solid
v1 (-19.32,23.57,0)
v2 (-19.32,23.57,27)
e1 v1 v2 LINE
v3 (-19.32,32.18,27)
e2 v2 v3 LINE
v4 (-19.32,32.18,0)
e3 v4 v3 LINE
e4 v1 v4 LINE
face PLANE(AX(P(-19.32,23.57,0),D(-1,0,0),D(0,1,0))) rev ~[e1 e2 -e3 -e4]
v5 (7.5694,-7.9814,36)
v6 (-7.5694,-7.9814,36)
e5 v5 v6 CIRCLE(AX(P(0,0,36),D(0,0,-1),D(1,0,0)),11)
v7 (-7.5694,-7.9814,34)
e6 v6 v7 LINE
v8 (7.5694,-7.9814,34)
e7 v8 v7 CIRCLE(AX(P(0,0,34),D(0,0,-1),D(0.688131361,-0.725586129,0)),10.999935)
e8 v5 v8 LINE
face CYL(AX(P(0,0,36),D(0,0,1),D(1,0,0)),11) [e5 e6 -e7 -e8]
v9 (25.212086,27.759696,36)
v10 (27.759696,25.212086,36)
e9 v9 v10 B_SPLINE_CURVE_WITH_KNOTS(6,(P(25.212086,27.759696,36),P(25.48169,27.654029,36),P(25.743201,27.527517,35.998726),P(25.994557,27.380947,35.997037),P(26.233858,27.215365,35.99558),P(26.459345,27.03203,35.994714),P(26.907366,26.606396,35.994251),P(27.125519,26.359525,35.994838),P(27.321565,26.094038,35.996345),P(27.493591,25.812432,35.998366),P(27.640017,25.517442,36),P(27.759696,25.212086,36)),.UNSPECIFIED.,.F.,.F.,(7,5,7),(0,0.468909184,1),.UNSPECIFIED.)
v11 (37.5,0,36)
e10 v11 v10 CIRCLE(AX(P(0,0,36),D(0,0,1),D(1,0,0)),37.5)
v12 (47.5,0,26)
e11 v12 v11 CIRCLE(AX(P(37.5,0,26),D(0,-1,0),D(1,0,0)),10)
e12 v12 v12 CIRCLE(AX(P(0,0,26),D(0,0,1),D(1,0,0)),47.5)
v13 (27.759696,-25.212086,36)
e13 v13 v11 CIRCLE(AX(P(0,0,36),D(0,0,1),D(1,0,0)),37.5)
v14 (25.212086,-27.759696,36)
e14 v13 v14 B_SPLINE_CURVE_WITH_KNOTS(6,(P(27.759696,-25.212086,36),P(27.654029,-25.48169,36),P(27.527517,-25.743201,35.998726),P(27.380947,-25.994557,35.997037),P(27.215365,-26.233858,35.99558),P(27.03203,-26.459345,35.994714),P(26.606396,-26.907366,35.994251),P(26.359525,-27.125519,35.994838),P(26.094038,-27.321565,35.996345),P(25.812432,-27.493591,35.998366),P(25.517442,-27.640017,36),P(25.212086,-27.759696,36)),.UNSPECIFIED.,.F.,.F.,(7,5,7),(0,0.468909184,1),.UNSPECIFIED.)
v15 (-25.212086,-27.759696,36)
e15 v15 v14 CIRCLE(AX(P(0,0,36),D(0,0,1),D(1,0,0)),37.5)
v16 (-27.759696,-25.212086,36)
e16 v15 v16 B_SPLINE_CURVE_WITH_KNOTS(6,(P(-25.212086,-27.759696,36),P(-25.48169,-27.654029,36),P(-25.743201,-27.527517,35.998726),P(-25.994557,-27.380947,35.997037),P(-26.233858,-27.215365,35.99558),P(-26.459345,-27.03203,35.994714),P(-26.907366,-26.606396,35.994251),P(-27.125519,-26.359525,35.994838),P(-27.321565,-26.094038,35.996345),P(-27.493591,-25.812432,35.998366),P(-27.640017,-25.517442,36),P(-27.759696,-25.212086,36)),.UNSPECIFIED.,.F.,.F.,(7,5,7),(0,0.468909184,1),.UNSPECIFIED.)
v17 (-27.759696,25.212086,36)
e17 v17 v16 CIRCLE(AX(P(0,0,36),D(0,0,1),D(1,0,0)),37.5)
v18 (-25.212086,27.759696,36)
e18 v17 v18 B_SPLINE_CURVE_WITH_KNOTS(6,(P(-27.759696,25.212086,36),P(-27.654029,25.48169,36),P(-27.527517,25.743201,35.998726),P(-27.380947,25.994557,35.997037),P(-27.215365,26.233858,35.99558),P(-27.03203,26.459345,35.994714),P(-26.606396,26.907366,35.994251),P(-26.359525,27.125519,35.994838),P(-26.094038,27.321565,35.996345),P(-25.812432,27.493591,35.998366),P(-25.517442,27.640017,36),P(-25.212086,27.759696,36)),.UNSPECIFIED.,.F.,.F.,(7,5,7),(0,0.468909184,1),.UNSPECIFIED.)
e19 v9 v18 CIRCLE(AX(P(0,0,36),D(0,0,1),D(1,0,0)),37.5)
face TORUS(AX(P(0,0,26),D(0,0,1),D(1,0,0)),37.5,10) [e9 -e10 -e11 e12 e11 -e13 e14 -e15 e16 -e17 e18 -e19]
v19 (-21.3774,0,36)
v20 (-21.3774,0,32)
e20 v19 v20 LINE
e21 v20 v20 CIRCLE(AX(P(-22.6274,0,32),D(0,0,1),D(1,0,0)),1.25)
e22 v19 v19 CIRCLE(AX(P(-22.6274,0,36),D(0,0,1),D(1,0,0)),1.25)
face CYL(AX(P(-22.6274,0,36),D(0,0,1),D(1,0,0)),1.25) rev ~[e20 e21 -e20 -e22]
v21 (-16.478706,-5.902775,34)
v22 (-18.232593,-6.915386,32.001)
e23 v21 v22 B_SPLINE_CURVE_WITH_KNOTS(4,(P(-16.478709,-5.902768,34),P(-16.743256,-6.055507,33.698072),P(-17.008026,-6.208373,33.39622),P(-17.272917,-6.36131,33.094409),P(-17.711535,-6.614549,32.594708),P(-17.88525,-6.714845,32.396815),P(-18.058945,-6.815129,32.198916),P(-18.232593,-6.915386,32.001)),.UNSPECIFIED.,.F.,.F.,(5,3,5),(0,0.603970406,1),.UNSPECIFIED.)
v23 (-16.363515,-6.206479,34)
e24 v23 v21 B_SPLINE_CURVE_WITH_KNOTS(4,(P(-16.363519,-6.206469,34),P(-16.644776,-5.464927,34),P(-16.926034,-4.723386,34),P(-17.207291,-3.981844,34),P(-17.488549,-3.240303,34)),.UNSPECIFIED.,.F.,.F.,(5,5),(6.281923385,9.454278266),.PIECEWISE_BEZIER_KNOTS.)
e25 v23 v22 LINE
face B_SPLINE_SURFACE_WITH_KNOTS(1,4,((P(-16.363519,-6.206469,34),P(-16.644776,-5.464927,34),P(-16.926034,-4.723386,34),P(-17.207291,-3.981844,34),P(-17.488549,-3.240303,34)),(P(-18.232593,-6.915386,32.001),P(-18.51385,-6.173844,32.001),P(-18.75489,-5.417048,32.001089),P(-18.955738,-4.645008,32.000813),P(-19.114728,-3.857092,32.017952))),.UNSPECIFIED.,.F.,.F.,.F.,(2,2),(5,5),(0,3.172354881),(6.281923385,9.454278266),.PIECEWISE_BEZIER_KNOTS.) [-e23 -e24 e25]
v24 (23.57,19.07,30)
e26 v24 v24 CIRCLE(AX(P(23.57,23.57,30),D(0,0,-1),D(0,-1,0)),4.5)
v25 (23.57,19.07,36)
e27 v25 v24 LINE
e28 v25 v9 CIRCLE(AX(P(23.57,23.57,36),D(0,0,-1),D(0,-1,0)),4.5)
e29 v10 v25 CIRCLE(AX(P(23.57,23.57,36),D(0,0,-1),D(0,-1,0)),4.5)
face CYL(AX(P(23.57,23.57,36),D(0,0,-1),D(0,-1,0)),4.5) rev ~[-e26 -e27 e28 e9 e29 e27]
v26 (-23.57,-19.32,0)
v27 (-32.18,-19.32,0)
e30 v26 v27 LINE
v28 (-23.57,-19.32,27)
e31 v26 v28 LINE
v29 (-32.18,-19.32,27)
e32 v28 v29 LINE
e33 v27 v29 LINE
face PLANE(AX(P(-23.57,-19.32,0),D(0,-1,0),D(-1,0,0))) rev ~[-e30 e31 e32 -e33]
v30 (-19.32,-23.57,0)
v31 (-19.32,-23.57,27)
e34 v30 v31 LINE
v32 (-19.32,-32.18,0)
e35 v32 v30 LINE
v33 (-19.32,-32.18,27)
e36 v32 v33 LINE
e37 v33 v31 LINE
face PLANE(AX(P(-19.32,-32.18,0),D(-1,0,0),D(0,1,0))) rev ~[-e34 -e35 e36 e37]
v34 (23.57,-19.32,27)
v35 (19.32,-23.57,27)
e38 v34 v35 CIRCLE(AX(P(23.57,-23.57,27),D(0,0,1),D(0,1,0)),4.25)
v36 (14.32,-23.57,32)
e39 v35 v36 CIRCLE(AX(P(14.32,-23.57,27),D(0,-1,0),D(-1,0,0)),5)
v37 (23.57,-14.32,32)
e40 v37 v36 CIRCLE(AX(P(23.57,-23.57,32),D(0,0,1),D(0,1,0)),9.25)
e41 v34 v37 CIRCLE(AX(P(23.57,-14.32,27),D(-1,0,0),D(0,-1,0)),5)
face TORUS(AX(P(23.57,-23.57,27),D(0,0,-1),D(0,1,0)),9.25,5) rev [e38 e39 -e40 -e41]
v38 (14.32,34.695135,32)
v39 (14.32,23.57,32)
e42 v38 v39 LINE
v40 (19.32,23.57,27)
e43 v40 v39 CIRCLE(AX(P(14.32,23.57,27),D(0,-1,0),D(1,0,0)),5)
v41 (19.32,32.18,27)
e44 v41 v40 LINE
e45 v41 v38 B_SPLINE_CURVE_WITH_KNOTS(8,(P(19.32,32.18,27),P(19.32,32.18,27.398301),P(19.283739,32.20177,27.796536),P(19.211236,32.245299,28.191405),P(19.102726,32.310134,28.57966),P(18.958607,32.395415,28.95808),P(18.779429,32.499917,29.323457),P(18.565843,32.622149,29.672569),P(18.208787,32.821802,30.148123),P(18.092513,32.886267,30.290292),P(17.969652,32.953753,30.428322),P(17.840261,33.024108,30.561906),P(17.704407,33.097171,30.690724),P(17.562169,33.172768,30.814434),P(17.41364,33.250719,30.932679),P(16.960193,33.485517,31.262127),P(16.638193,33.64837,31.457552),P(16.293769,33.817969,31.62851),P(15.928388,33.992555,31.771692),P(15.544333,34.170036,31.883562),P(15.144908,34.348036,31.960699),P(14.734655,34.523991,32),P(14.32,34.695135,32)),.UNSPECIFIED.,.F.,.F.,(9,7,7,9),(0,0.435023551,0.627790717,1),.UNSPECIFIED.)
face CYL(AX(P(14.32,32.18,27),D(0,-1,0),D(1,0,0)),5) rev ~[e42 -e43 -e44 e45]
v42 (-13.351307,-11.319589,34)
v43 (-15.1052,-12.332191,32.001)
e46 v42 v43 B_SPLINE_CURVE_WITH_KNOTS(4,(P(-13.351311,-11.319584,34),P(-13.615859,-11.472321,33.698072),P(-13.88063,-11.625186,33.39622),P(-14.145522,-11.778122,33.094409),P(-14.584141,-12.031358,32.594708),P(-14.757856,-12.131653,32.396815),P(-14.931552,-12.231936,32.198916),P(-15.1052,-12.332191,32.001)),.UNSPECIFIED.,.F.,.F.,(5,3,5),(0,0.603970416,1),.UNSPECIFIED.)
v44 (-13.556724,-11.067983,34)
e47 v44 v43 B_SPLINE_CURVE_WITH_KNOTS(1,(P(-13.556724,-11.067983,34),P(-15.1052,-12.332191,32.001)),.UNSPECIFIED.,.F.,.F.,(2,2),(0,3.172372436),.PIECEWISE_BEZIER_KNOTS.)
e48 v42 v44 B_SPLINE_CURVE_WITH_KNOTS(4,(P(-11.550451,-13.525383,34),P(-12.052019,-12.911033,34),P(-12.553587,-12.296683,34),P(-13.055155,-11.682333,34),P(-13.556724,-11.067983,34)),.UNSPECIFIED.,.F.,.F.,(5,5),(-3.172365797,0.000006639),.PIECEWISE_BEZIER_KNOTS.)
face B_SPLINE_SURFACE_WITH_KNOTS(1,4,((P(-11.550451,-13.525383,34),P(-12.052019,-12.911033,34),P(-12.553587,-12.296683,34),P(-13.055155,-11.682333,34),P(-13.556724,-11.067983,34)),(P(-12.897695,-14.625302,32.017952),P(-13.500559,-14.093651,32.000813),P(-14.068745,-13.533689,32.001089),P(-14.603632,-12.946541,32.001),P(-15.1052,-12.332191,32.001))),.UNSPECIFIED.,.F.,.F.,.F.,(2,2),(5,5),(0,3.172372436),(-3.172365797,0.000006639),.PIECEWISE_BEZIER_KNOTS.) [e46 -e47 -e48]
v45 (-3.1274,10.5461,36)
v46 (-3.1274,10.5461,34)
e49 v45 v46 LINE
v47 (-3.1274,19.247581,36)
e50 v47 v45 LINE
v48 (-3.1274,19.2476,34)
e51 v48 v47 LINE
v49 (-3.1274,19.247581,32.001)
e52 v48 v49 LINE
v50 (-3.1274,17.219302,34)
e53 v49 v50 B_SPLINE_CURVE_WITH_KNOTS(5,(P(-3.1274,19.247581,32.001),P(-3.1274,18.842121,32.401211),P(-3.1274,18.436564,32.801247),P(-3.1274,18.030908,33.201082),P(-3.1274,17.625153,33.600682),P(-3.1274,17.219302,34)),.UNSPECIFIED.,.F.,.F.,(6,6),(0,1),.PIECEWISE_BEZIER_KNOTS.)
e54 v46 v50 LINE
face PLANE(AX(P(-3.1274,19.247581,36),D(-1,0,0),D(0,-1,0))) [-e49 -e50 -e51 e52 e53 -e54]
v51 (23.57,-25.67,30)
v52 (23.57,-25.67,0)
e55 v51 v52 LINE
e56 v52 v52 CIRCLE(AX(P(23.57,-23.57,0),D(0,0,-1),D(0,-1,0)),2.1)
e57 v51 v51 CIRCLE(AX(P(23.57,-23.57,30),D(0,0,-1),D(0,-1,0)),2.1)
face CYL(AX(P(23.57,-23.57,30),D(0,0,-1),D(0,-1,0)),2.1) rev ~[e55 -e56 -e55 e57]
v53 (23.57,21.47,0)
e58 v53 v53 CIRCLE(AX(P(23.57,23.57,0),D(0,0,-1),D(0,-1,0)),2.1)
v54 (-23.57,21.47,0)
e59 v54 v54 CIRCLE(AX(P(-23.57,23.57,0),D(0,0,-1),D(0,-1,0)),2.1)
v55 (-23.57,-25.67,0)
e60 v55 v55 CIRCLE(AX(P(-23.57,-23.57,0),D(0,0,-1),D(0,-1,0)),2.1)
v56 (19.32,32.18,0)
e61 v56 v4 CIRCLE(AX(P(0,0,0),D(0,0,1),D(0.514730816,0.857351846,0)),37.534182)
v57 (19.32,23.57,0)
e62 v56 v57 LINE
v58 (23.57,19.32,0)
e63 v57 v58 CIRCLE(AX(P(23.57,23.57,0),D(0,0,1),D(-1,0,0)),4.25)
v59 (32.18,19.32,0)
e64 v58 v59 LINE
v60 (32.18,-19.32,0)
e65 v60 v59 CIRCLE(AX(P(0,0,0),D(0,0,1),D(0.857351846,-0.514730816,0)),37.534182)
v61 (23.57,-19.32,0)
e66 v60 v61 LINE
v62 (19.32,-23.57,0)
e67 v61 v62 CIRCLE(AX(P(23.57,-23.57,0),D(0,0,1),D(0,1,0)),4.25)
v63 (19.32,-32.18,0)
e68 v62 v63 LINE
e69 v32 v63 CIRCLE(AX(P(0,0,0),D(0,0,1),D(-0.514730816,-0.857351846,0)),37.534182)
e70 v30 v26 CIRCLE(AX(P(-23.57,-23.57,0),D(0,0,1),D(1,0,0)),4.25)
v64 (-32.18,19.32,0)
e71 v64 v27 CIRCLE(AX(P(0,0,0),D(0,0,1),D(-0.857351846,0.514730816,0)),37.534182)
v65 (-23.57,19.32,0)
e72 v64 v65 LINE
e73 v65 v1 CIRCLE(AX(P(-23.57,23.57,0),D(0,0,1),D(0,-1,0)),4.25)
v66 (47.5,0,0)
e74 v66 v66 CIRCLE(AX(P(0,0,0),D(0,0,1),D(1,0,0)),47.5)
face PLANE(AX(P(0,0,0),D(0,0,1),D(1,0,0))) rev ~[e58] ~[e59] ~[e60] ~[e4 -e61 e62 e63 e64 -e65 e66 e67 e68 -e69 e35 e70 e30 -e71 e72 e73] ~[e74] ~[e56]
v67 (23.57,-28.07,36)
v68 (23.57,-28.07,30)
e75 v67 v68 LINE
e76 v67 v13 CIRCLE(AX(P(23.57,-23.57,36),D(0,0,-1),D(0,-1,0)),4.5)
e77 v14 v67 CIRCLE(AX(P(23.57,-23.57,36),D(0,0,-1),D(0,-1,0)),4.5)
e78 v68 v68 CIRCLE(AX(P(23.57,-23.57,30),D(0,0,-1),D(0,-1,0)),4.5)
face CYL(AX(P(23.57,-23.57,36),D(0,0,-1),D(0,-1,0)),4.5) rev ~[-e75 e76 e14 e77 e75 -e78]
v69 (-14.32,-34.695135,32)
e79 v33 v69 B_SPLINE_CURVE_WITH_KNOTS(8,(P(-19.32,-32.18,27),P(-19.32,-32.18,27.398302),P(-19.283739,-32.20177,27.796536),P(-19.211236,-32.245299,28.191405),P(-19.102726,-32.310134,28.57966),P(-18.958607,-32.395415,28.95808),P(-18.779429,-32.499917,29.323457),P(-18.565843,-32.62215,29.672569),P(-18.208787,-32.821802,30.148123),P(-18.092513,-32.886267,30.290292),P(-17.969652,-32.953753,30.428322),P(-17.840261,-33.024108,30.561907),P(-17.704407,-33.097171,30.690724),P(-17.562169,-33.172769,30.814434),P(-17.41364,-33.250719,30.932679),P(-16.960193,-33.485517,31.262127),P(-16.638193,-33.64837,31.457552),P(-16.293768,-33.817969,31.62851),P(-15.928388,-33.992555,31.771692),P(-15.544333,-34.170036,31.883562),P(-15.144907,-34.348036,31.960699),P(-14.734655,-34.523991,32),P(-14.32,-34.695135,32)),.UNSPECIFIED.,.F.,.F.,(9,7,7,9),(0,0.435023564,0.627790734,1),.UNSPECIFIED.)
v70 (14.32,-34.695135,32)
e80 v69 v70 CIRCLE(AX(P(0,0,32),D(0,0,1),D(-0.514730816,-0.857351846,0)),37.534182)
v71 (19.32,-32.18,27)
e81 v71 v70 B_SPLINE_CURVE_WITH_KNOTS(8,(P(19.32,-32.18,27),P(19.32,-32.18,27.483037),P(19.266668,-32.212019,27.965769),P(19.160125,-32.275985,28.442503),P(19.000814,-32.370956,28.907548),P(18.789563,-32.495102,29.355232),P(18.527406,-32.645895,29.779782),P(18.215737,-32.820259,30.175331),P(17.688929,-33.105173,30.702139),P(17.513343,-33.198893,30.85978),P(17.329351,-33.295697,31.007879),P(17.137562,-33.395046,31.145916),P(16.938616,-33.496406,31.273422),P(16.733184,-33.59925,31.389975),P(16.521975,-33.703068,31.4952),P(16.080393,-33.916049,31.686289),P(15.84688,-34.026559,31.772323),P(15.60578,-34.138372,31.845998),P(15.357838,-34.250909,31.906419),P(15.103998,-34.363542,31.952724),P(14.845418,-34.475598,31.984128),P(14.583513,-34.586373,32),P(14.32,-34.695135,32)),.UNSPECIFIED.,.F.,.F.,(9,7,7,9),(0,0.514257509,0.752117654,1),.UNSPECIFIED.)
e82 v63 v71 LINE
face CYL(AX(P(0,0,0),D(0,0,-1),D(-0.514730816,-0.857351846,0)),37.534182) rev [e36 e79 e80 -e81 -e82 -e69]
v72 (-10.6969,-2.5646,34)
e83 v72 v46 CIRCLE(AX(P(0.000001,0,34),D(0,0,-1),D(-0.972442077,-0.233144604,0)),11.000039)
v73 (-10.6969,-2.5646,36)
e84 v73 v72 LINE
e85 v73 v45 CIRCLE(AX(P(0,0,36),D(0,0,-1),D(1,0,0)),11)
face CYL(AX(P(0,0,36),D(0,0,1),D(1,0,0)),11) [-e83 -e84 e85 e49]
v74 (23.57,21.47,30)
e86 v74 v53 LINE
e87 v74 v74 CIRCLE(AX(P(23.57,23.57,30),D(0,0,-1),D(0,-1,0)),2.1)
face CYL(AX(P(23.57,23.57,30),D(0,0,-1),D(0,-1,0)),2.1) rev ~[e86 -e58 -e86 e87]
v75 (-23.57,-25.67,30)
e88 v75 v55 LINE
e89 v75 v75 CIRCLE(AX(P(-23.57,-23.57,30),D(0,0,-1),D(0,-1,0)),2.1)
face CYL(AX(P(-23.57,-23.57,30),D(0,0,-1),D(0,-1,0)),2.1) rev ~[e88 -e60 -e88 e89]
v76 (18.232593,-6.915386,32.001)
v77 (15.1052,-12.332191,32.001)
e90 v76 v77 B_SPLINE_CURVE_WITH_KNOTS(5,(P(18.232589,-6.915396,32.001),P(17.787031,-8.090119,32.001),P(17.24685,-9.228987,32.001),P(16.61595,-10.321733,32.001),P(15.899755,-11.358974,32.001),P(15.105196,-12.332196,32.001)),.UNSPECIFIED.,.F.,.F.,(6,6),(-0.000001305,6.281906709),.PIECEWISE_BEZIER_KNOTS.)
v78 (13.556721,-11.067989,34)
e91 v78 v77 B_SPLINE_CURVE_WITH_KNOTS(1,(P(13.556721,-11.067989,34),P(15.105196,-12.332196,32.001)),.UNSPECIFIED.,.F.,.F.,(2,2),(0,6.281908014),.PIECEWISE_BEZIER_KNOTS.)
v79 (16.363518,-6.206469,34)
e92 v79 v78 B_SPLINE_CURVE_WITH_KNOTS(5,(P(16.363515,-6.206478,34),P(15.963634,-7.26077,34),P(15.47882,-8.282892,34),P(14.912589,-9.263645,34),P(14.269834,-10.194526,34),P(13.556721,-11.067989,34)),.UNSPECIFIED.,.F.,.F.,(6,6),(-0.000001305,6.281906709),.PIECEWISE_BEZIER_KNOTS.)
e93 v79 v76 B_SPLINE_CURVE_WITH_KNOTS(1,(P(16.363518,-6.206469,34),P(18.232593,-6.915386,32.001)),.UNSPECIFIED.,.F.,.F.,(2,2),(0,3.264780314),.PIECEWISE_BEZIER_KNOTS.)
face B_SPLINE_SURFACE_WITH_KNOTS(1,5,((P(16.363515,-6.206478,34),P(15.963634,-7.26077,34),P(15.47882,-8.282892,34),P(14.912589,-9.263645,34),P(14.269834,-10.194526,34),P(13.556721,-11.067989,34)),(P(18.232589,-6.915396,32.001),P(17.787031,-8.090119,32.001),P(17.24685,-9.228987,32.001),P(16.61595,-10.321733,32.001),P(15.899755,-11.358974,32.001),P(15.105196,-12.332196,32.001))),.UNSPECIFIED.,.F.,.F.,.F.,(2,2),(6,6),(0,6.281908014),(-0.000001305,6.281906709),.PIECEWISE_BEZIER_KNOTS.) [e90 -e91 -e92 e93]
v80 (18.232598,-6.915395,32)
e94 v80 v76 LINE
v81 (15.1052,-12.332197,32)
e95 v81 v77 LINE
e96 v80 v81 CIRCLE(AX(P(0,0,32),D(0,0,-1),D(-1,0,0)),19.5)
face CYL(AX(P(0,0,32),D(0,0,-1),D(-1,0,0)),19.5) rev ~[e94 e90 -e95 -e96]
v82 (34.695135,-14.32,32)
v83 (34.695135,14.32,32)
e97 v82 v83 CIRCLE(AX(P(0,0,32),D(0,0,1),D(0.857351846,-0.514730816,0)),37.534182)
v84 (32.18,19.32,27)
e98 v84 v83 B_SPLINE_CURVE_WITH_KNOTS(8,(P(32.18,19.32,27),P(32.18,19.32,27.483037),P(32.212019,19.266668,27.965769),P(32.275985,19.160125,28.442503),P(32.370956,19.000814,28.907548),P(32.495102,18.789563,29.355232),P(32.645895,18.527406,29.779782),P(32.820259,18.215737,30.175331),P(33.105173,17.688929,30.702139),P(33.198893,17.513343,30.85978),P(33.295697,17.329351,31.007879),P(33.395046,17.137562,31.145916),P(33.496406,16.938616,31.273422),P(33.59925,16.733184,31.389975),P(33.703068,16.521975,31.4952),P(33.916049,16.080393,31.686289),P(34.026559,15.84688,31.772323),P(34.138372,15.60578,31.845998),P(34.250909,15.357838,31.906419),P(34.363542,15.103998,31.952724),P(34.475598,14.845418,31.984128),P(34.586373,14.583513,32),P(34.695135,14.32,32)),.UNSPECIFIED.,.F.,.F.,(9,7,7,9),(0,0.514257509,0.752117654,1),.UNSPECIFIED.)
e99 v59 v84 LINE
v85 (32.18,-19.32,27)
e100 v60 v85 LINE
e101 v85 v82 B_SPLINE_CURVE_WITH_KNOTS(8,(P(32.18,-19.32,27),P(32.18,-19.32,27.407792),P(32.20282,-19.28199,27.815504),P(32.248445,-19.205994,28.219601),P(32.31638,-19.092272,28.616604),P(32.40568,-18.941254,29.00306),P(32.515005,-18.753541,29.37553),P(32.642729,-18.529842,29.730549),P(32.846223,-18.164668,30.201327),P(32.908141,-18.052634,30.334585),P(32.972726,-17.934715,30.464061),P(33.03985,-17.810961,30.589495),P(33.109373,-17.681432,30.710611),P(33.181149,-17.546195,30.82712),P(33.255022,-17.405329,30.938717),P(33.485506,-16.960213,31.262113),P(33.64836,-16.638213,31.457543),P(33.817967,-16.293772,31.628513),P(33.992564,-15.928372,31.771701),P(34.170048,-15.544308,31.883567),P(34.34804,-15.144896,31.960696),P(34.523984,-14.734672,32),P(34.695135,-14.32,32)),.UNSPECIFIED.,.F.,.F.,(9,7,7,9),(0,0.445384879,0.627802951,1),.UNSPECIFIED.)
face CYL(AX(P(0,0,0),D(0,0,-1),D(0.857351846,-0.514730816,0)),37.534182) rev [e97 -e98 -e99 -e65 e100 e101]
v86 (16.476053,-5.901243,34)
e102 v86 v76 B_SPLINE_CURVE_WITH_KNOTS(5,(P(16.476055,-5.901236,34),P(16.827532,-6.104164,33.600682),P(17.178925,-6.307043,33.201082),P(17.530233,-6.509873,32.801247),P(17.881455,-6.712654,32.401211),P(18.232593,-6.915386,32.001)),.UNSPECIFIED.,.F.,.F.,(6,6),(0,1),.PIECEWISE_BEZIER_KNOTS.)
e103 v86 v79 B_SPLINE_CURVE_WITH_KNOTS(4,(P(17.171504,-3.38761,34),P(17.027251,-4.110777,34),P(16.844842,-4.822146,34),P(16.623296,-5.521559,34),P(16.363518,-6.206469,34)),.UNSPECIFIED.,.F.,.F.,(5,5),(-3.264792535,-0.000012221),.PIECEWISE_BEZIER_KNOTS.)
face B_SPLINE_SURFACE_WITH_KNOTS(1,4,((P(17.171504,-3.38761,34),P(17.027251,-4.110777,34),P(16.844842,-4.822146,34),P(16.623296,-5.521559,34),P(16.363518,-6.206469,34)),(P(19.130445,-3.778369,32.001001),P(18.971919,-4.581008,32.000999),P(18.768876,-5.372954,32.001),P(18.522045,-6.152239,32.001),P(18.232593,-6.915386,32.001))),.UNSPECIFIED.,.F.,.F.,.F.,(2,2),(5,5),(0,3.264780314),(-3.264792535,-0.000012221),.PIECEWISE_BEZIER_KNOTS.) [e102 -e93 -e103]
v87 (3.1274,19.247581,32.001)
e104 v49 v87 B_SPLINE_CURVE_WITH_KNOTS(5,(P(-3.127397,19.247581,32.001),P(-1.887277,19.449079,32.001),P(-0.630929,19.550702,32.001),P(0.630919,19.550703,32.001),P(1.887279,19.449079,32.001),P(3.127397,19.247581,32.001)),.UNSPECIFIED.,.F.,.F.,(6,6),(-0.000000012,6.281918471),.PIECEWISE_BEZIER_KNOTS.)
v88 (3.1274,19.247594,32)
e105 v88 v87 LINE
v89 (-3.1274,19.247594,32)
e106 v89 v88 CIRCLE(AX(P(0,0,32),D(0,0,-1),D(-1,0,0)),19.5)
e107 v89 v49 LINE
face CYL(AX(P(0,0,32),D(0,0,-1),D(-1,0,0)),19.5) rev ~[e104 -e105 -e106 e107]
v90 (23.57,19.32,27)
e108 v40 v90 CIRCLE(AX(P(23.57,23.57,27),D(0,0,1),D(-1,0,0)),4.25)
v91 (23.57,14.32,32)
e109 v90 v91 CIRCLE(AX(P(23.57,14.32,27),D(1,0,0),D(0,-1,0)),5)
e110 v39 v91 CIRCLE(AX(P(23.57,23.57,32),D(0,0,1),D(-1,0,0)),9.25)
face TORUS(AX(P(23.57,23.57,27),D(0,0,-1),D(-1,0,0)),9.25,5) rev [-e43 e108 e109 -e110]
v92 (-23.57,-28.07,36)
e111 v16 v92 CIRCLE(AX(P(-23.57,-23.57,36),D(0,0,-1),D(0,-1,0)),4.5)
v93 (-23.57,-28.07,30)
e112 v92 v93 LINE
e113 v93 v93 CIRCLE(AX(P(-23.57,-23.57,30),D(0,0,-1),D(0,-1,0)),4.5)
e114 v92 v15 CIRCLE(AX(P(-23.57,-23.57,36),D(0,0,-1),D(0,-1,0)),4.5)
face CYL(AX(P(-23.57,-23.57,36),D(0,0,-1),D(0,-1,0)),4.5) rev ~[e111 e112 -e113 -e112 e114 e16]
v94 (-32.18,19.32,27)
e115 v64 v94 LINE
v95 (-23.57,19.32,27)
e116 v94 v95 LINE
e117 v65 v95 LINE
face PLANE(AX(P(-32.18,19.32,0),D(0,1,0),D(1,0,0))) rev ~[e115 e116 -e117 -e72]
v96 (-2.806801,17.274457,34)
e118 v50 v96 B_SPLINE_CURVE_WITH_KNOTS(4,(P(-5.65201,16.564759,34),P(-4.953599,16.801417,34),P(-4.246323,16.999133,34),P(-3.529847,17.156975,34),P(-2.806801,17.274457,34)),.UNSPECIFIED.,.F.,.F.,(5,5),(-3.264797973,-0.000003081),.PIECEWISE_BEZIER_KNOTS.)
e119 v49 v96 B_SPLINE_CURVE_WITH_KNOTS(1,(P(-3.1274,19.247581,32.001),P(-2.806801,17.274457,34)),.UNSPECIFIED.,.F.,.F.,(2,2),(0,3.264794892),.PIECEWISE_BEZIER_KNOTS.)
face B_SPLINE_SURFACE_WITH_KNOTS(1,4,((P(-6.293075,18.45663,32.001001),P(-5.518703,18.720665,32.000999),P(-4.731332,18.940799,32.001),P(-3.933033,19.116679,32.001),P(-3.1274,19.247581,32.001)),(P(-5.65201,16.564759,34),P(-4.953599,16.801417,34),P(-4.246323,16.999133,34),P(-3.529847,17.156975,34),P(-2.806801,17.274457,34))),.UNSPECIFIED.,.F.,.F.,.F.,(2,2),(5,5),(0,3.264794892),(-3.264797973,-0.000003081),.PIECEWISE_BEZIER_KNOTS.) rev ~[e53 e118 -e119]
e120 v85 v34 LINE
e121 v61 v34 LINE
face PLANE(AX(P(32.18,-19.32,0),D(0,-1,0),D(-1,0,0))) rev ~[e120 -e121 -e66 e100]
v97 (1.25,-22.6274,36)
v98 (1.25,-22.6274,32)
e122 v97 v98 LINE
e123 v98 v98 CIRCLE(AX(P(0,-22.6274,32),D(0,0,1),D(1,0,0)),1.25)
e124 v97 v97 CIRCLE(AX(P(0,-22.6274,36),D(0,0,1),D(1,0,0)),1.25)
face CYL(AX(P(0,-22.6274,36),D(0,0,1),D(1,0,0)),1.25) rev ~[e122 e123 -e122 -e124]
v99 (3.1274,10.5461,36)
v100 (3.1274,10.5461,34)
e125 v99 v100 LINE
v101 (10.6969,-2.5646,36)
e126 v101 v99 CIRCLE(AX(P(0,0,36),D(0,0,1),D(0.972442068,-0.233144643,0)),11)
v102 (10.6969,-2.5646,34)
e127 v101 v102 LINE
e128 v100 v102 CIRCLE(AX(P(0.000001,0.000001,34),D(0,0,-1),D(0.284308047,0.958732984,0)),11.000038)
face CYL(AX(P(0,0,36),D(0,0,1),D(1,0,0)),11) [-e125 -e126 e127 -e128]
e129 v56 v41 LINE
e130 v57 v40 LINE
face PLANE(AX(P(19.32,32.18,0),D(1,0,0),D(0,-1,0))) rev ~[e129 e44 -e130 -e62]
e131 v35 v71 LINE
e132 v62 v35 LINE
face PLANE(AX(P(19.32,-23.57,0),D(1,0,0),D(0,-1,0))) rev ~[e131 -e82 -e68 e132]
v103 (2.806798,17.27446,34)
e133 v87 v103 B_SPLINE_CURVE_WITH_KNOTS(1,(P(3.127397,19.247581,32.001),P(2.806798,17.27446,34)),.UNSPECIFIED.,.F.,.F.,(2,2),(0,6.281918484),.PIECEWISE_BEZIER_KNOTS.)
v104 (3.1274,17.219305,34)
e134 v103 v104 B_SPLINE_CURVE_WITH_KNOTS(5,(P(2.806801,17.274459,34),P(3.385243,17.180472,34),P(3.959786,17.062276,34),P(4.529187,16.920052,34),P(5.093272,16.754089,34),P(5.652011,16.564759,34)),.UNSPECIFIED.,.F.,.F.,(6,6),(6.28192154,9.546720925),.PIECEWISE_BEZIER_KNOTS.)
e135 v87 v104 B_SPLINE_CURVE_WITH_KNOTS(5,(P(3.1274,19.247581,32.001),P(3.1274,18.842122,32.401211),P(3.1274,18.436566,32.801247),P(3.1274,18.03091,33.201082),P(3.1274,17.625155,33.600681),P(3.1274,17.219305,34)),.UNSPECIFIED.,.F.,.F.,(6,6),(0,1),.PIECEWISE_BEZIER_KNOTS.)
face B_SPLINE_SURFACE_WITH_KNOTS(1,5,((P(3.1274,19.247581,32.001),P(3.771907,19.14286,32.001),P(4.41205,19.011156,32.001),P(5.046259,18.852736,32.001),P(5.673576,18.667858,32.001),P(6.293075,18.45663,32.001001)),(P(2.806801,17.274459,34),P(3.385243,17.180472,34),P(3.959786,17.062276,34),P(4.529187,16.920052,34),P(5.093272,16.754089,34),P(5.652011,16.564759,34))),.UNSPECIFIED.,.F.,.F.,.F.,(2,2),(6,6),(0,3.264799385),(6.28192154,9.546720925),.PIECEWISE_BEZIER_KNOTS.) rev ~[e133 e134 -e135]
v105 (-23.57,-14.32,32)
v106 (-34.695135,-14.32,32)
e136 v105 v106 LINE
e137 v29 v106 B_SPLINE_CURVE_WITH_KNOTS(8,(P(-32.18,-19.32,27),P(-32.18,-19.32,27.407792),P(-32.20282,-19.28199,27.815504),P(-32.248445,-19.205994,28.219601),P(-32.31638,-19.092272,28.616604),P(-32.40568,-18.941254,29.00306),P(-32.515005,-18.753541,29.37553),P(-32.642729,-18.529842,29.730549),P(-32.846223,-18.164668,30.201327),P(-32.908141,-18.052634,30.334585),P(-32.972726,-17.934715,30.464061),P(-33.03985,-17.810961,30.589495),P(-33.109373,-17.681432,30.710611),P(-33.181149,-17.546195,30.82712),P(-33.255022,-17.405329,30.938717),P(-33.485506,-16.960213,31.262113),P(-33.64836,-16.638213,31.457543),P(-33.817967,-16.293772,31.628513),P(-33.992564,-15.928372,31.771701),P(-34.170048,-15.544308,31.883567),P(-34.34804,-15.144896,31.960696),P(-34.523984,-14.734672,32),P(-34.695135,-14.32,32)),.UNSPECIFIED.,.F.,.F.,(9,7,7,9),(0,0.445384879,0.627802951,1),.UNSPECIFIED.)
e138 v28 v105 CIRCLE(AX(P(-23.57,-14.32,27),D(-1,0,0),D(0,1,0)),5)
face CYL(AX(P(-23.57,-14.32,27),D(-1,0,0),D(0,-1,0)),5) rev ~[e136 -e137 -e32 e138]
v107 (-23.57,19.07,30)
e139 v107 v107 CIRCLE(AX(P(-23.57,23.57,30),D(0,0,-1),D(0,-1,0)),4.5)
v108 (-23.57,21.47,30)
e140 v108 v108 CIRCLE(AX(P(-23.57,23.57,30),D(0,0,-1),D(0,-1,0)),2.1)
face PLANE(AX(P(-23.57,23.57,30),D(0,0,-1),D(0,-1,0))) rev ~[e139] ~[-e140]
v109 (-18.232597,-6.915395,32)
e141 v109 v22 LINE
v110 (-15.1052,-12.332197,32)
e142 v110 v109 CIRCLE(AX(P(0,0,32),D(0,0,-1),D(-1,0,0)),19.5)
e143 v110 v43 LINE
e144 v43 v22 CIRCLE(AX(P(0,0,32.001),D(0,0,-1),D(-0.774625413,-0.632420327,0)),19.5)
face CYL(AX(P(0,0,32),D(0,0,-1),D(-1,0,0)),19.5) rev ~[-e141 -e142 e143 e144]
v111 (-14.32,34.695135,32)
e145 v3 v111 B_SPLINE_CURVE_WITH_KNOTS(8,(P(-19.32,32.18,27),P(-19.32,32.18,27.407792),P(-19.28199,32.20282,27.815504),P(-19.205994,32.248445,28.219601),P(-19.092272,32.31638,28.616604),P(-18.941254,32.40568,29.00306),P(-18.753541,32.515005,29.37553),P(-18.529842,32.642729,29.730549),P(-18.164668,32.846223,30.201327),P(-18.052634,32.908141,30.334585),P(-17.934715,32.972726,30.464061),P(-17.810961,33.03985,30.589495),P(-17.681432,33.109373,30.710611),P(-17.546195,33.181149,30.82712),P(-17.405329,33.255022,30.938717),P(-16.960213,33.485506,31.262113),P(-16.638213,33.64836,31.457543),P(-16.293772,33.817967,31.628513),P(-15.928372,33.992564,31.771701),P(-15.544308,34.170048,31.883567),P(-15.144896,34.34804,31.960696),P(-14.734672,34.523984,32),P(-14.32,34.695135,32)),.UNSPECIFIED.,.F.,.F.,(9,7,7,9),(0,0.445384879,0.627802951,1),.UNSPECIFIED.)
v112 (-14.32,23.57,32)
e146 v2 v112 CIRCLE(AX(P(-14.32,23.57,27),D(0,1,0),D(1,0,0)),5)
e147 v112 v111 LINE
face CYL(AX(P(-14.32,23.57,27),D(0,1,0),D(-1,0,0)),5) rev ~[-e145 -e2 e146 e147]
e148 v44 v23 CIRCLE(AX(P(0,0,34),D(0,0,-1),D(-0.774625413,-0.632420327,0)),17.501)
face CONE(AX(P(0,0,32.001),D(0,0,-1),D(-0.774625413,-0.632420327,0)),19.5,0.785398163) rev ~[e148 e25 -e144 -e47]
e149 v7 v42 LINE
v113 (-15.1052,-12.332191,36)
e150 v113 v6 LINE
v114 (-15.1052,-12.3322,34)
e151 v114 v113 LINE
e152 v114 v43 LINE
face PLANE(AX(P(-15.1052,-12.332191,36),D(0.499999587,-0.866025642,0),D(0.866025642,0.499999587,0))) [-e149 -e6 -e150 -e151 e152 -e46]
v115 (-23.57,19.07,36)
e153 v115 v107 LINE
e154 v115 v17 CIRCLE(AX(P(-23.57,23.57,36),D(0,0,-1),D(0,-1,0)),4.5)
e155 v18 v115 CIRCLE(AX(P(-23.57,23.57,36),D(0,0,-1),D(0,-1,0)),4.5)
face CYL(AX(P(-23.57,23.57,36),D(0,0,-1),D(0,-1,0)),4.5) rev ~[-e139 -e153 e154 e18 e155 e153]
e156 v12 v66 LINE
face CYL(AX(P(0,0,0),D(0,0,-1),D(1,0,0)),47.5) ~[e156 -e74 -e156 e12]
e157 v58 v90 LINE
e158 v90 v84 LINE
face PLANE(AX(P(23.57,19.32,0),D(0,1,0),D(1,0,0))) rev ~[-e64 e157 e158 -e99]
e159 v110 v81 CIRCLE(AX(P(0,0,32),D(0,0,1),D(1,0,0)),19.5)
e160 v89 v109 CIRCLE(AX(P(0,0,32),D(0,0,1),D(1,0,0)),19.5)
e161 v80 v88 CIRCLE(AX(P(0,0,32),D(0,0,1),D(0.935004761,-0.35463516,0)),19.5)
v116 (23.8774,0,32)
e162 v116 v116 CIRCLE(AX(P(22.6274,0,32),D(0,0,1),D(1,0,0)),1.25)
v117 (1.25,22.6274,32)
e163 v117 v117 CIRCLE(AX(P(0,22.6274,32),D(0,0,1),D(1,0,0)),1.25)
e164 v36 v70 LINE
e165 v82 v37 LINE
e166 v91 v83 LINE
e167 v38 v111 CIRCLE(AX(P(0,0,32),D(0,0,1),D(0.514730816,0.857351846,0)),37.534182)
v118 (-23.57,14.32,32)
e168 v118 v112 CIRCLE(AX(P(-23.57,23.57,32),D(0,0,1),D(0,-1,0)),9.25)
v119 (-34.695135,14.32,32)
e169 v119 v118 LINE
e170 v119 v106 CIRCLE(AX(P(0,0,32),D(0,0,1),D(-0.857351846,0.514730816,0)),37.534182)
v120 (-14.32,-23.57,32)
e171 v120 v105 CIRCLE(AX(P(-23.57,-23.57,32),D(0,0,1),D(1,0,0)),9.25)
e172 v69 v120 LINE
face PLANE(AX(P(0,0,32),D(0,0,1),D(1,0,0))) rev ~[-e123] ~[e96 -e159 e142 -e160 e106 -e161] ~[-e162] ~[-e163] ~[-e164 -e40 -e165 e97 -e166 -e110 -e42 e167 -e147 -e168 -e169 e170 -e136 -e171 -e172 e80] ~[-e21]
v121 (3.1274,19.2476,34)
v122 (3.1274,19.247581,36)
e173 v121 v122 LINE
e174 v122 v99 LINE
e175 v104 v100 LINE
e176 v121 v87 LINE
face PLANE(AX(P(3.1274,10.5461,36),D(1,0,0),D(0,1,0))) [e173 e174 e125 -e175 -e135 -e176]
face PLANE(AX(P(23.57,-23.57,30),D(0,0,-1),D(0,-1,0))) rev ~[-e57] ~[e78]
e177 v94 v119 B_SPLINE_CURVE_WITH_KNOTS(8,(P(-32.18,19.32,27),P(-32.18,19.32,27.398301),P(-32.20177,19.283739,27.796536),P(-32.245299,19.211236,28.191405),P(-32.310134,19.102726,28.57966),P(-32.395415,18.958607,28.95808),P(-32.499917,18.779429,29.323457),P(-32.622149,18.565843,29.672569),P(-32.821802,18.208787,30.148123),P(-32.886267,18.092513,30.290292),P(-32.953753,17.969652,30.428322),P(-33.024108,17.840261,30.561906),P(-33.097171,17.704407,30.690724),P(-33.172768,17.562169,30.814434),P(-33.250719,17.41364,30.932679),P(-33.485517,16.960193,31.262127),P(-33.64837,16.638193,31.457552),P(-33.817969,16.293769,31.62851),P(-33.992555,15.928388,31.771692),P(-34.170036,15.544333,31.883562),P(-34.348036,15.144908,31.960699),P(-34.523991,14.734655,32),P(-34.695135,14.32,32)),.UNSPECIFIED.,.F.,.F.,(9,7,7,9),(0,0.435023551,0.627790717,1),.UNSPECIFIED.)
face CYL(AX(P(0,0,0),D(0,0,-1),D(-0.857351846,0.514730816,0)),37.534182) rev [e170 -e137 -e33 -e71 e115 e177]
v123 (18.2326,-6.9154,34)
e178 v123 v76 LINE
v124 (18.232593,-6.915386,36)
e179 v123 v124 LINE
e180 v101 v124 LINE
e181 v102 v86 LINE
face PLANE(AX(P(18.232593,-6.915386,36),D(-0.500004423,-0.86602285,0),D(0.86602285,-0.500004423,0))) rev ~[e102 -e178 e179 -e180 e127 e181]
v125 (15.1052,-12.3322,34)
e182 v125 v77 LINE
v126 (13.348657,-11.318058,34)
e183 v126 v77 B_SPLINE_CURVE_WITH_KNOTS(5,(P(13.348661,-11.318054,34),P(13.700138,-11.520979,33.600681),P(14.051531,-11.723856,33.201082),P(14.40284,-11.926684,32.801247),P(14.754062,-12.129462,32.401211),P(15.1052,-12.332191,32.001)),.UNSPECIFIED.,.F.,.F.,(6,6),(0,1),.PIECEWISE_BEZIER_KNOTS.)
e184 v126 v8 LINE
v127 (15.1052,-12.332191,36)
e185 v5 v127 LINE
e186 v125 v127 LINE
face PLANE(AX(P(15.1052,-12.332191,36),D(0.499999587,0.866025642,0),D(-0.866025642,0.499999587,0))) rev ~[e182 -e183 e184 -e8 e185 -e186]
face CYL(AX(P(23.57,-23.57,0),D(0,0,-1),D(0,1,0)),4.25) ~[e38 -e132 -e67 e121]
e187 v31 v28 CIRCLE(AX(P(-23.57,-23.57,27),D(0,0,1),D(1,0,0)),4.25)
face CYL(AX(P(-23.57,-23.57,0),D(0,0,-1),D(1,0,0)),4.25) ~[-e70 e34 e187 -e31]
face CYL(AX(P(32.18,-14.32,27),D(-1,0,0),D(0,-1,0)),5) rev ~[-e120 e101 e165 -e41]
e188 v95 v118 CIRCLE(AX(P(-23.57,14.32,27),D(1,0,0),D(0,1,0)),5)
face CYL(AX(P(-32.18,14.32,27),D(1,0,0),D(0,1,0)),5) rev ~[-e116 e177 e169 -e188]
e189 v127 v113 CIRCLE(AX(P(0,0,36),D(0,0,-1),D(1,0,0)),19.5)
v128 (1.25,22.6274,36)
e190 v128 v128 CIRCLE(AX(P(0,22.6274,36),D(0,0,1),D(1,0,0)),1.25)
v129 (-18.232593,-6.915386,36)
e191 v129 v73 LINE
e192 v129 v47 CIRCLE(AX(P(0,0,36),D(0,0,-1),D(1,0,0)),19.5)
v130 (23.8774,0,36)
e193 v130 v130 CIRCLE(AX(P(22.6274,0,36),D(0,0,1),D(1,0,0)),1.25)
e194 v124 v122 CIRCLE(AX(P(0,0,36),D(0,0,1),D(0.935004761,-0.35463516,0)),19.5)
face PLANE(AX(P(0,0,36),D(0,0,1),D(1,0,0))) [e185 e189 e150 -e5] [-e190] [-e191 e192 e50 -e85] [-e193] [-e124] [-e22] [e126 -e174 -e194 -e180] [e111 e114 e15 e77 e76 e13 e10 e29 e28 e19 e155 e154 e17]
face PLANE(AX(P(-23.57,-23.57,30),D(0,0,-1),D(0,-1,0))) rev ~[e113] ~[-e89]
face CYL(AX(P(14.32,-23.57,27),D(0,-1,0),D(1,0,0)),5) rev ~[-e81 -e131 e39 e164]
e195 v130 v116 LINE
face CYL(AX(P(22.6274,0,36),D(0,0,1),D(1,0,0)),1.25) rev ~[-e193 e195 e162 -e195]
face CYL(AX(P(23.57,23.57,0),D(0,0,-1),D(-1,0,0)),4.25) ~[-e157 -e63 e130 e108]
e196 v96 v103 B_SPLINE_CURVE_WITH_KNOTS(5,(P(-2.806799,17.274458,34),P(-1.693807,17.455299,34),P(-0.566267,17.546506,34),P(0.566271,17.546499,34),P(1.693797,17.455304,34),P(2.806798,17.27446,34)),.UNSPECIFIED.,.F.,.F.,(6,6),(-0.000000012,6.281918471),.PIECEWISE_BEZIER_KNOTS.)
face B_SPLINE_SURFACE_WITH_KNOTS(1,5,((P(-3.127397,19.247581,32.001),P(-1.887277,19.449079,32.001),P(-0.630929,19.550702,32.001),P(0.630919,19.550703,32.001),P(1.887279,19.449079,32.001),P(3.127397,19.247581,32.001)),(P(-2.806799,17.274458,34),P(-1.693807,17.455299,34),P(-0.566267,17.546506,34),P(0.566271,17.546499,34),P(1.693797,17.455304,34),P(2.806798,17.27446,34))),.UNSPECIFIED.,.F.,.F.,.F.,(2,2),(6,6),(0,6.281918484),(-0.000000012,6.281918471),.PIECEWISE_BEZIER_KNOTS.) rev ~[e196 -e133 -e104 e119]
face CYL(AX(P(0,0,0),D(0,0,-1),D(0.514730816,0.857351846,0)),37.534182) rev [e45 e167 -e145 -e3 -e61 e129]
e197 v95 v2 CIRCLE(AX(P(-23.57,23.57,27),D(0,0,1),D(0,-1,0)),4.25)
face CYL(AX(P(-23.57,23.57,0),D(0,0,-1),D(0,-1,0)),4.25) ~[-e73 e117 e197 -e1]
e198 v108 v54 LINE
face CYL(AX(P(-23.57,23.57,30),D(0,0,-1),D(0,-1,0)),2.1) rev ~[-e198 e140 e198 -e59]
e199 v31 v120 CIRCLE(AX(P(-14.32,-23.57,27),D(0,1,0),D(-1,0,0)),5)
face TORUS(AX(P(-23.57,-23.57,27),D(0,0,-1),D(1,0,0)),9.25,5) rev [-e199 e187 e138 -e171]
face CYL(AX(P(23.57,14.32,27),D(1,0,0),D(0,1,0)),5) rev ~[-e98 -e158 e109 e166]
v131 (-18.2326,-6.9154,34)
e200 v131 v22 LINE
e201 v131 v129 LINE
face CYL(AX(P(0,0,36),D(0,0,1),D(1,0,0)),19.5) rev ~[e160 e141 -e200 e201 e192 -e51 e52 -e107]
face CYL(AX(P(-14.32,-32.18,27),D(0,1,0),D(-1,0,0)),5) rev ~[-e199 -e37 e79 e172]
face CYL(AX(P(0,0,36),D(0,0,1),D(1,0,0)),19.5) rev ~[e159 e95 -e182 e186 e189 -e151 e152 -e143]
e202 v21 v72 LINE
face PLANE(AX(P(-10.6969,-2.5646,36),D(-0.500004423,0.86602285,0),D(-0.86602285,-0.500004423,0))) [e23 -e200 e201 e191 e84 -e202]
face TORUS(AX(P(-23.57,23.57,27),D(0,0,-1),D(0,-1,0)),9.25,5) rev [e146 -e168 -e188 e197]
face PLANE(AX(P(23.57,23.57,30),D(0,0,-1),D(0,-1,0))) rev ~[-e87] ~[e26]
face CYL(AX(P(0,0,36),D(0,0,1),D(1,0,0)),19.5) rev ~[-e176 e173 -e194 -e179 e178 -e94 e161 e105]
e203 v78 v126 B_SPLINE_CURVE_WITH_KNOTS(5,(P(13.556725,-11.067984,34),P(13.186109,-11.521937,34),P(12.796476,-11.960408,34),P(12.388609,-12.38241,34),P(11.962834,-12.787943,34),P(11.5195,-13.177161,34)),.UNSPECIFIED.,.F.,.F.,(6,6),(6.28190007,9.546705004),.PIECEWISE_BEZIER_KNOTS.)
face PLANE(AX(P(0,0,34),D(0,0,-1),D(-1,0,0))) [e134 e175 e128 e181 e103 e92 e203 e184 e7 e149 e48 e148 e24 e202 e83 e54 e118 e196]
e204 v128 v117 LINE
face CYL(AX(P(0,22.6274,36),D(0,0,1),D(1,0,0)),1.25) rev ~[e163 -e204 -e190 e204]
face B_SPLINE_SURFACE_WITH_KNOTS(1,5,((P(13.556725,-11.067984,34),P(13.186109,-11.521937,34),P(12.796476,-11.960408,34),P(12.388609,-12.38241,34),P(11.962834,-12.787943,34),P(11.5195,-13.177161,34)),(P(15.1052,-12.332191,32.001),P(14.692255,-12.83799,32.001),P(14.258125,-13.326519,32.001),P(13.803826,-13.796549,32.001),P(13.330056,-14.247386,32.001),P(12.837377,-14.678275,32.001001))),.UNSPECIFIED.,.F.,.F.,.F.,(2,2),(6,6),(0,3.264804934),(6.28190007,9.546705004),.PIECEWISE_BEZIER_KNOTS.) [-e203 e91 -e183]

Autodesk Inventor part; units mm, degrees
ref_plane "YZ Plane" through (0, 0, 0) normal (1, 0, 0) x (0, 1, 0)
ref_plane "XZ Plane" through (0, 0, 0) normal (0, 1, 0) x (-1, 0, 0)
sketch "Skizze1" plane through (0, 0, 0) normal (0, 0, 1) x (1, 0, 0)
  line L0 (24.616, 19.6663) -> (20.7123, 20.7123) projected
  line L1 (20.7123, 20.7123) -> (19.6663, 24.616) projected
  line L2 (19.6663, 24.616) -> (22.524, 27.4737) projected
  line L3 (22.524, 27.4737) -> (26.4277, 26.4277) projected
  line L4 (26.4277, 26.4277) -> (27.4737, 22.524) projected
  line L5 (27.4737, 22.524) -> (24.616, 19.6663) projected
  line L6 (-24.616, -19.6663) -> (-20.7123, -20.7123) projected
  line L7 (-20.7123, -20.7123) -> (-19.6663, -24.616) projected
  line L8 (-19.6663, -24.616) -> (-22.524, -27.4737) projected
  line L9 (-22.524, -27.4737) -> (-26.4277, -26.4277) projected
  line L10 (-26.4277, -26.4277) -> (-27.4737, -22.524) projected
  line L11 (-27.4737, -22.524) -> (-24.616, -19.6663) projected
  line L12 (-20.7123, 20.7123) -> (-24.616, 19.6663) projected
  line L13 (-24.616, 19.6663) -> (-27.4737, 22.524) projected
  line L14 (-27.4737, 22.524) -> (-26.4277, 26.4277) projected
  line L15 (-26.4277, 26.4277) -> (-22.524, 27.4737) projected
  line L16 (-22.524, 27.4737) -> (-19.6663, 24.616) projected
  line L17 (-19.6663, 24.616) -> (-20.7123, 20.7123) projected
  line L18 (19.6663, -24.616) -> (20.7123, -20.7123) projected
  line L19 (20.7123, -20.7123) -> (24.616, -19.6663) projected
  line L20 (24.616, -19.6663) -> (27.4737, -22.524) projected
  line L21 (27.4737, -22.524) -> (26.4277, -26.4277) projected
  line L22 (26.4277, -26.4277) -> (22.524, -27.4737) projected
  line L23 (22.524, -27.4737) -> (19.6663, -24.616) projected
  arc A0 (-23.57, 19.32) -> (-19.32, 23.57) centre (-23.57, 23.57) ccw projected
  line L24 (-19.32, 23.57) -> (-19.32, 32.18) projected
  line L25 (-19.32, 32.18) -> (19.32, 32.18) projected
  line L26 (19.32, 32.18) -> (19.32, 23.57) projected
  arc A1 (19.32, 23.57) -> (23.57, 19.32) centre (23.57, 23.57) ccw projected
  line L27 (23.57, 19.32) -> (32.18, 19.32) projected
  line L28 (32.18, 19.32) -> (32.18, -19.32) projected
  line L29 (32.18, -19.32) -> (23.57, -19.32) projected
  arc A2 (23.57, -19.32) -> (19.32, -23.57) centre (23.57, -23.57) ccw projected
  line L30 (19.32, -23.57) -> (19.32, -32.18) projected
  line L31 (19.32, -32.18) -> (-19.32, -32.18) projected
  line L32 (-19.32, -32.18) -> (-19.32, -23.57) projected
  arc A3 (-19.32, -23.57) -> (-23.57, -19.32) centre (-23.57, -23.57) ccw projected
  line L33 (-23.57, -19.32) -> (-32.18, -19.32) projected
  line L34 (-32.18, -19.32) -> (-32.18, 19.32) projected
  line L35 (-32.18, 19.32) -> (-23.57, 19.32) projected
  circle A4 centre (0, 0) radius 47.5
  circle A5 centre (23.57, -23.57) radius 2
  circle A6 centre (23.57, 23.57) radius 2
  circle A7 centre (-23.57, 23.57) radius 2
  circle A8 centre (-23.57, -23.57) radius 2
  arc A9 (32.18, -19.32) -> (32.18, 19.32) centre (0, 0) ccw
  arc A10 (-19.32, -32.18) -> (19.32, -32.18) centre (0, 0) ccw
  arc A11 (-32.18, 19.32) -> (-32.18, -19.32) centre (0, 0) ccw
  arc A12 (19.32, 32.18) -> (-19.32, 32.18) centre (0, 0) ccw
  point P0 (0, 0)
  dimension "d0" = 4
  dimension "d40" = 95
extrude "Extrusion1" add sketch "Skizze1" along normal blind 32 contours L0 L1 L2 L3 L4 L5 | L6 L7 L8 L9 L10 L11 | L12 L13 L14 L15 L16 L17 | L18 L19 L20 L21 L22 L23 | A4
ref_plane "Arbeitsebene1" through (0, 0, 0) normal (1, 0, 0) x (0, 0, 1)
sketch "Skizze9" plane through (0, 0, 32) normal (0, 0, 1) x (1, 0, 0)
  circle A0 centre (23.57, -23.57) radius 2 projected
  circle A1 centre (-23.57, 23.57) radius 2 projected
  circle A2 centre (-23.57, -23.57) radius 2 projected
  circle A3 centre (23.57, 23.57) radius 2 projected
  circle A4 centre (0, 0) radius 47.5 projected
  line L0 (32.18, -19.32) -> (23.57, -19.32) projected
  arc A5 (23.57, -19.32) -> (19.32, -23.57) centre (23.57, -23.57) ccw projected
  line L1 (19.32, -23.57) -> (19.32, -32.18) projected
  arc A6 (-19.32, -32.18) -> (19.32, -32.18) centre (0, 0) ccw projected
  line L2 (-19.32, -32.18) -> (-19.32, -23.57) projected
  arc A7 (-19.32, -23.57) -> (-23.57, -19.32) centre (-23.57, -23.57) ccw projected
  line L3 (-23.57, -19.32) -> (-32.18, -19.32) projected
  arc A8 (-32.18, 19.32) -> (-32.18, -19.32) centre (0, 0) ccw projected
  line L4 (-32.18, 19.32) -> (-23.57, 19.32) projected
  arc A9 (-23.57, 19.32) -> (-19.32, 23.57) centre (-23.57, 23.57) ccw projected
  line L5 (-19.32, 23.57) -> (-19.32, 32.18) projected
  arc A10 (19.32, 32.18) -> (-19.32, 32.18) centre (0, 0) ccw projected
  line L6 (19.32, 32.18) -> (19.32, 23.57) projected
  arc A11 (19.32, 23.57) -> (23.57, 19.32) centre (23.57, 23.57) ccw projected
  line L7 (23.57, 19.32) -> (32.18, 19.32) projected
  arc A12 (32.18, -19.32) -> (32.18, 19.32) centre (0, 0) ccw projected
  point P0 (0, 0)
extrude "Extrusion6" add sketch "Skizze9" along normal blind 4 contours A4 | L0 A5 L1 A6 L2 A7 L3 A8 L4 A9 L5 A10 L6 A11 L7 A12
fillet "Rundung3" radius 10 1 edges at (-47.5, 0, 36)
sketch "Skizze10" plane through (0, 0, 0) normal (0, 0, -1) x (-1, 0, 0)
  circle A0 centre (-23.57, -23.57) radius 2 projected
  circle A1 centre (23.57, 23.57) radius 2 projected
  circle A2 centre (23.57, -23.57) radius 2 projected
  circle A3 centre (-23.57, 23.57) radius 2 projected
  line L0 (-23.57, -19.32) -> (-32.18, -19.32) projected
  arc A4 (-32.18, 19.32) -> (-32.18, -19.32) centre (0, 0) ccw projected
  line L1 (-32.18, 19.32) -> (-23.57, 19.32) projected
  arc A5 (-23.57, 19.32) -> (-19.32, 23.57) centre (-23.57, 23.57) ccw projected
  line L2 (-19.32, 23.57) -> (-19.32, 32.18) projected
  arc A6 (19.32, 32.18) -> (-19.32, 32.18) centre (0, 0) ccw projected
  line L3 (19.32, 32.18) -> (19.32, 23.57) projected
  arc A7 (19.32, 23.57) -> (23.57, 19.32) centre (23.57, 23.57) ccw projected
  line L4 (23.57, 19.32) -> (32.18, 19.32) projected
  arc A8 (32.18, -19.32) -> (32.18, 19.32) centre (0, 0) ccw projected
  line L5 (32.18, -19.32) -> (23.57, -19.32) projected
  arc A9 (23.57, -19.32) -> (19.32, -23.57) centre (23.57, -23.57) ccw projected
  line L6 (19.32, -23.57) -> (19.32, -32.18) projected
  arc A10 (-19.32, -32.18) -> (19.32, -32.18) centre (0, 0) ccw projected
  line L7 (-19.32, -32.18) -> (-19.32, -23.57) projected
  arc A11 (-19.32, -23.57) -> (-23.57, -19.32) centre (-23.57, -23.57) ccw projected
  circle A12 centre (0, 0) radius 47.5 projected
  point P0 (0, 0)
fillet "Rundung4" radius 5 12 edges at (20.5648, 20.5648, 32) (27.875, 19.32, 32) (19.32, 27.875, 32) (19.32, -27.875, 32) (27.875, -19.32, 32) (20.5648, -20.5648, 32) (-27.875, -19.32, 32) (-19.32, -27.875, 32) (-20.5648, -20.5648, 32) (-19.32, 27.875, 32) (-27.875, 19.32, 32) (-20.5648, 20.5648, 32)
sketch "Skizze11" plane through (0, 0, 36) normal (0, 0, 1) x (1, 0, 0)
  circle A0 centre (23.57, -23.57) radius 2 projected
  circle A1 centre (-23.57, 23.57) radius 2 projected
  circle A2 centre (-23.57, -23.57) radius 2 projected
  circle A3 centre (23.57, 23.57) radius 2 projected
  circle A4 centre (0, 0) radius 37.5 projected
  point P0 (0, 0)
hole "Bohrung2" at (-23.57, 23.57, 36) at (23.57, 23.57, 36) at (23.57, -23.57, 36) at (-23.57, -23.57, 36) direction (0, 0, -1) diameter 4.2 end through all counterbore diameter 9 counterbore depth 6
sketch "Skizze12" plane through (0, 0, 36) normal (0, 0, 1) x (1, 0, 0)
  line L0 (0, -28.2843) -> (28.2843, 0)
  line L1 (28.2843, 0) -> (0, 28.2843)
  line L2 (0, 28.2843) -> (-28.2843, 0)
  line L3 (-28.2843, 0) -> (0, -28.2843)
  line L4 (0, -28.2843) -> (0, 28.2843) construction
  line L5 (28.2843, 0) -> (-28.2843, 0) construction
  arc A0 (25.2121, 27.7597) -> (-25.2121, 27.7597) centre (0, 0) ccw projected
  circle A1 centre (23.57, 23.57) radius 2.1 projected
  circle A2 centre (-23.57, 23.57) radius 2.1 projected
  line L6 (0, -22.6274) -> (22.6274, 0) construction
  line L7 (22.6274, 0) -> (0, 22.6274) construction
  line L8 (0, 22.6274) -> (-22.6274, 0) construction
  line L9 (-22.6274, 0) -> (0, -22.6274) construction
  line L10 (0, -22.6274) -> (0, 22.6274) construction
  line L11 (22.6274, 0) -> (-22.6274, 0) construction
  circle A3 centre (0, 22.6274) radius 1.25
  circle A4 centre (22.6274, 0) radius 1.25
  circle A5 centre (0, -22.6274) radius 1.25
  circle A6 centre (-22.6274, 0) radius 1.25
  circle A7 centre (0, 0) radius 19.5
  circle A8 centre (0, 0) radius 11
  line L12 (-3.1274, 10.5461) -> (3.1274, 10.5461)
  line L13 (3.1274, 10.5461) -> (3.1274, 19.5)
  line L14 (3.1274, 19.5) -> (-3.1274, 19.5)
  line L15 (-3.1274, 19.5) -> (-3.1274, 10.5461)
  line L16 (-3.1274, 10.5461) -> (3.1274, 19.5) construction
  line L17 (3.1274, 10.5461) -> (-3.1274, 19.5) construction
  line L18 (0, 0) -> (-16.8875, -9.75) construction
  line L19 (-15.3238, -12.4584) -> (-7.5694, -7.9814)
  line L20 (-7.5694, -7.9814) -> (-10.6969, -2.5646)
  line L21 (-10.6969, -2.5646) -> (-18.4512, -7.0416)
  line L22 (-18.4512, -7.0416) -> (-15.3238, -12.4584)
  line L23 (-15.3238, -12.4584) -> (-10.6969, -2.5646) construction
  line L24 (-7.5694, -7.9814) -> (-18.4512, -7.0416) construction
  line L25 (0, 0) -> (16.8875, -9.75) construction
  line L26 (15.3238, -12.4584) -> (7.5694, -7.9814)
  line L27 (7.5694, -7.9814) -> (10.6969, -2.5646)
  line L28 (10.6969, -2.5646) -> (18.4512, -7.0416)
  line L29 (18.4512, -7.0416) -> (15.3238, -12.4584)
  line L30 (15.3238, -12.4584) -> (10.6969, -2.5646) construction
  line L31 (7.5694, -7.9814) -> (18.4512, -7.0416) construction
  point P0 (0, 0)
  point P1 (0, 15.023)
  point P2 (-13.0103, -7.5115)
  point P3 (13.0103, -7.5115)
  dimension "d52" = 40
  dimension "d53" = 32
  dimension "d54" = 2.5
  dimension "d55" = 0.5
  dimension "d56" = 22
  dimension "d57" = 120
  dimension "d58" = 120
extrude "Extrusion7" cut sketch "Skizze12" against normal through all contours A3 | A4 | A5 | A6 | A7 L28 A8 L13 | L13 A8 L15 A7 | A7 L26 A8 L28 | L15 A8 L21 A7 | A7 L19 A8 L26 | L21 A8 L19 A7
extrude "Extrusion8" add sketch "Skizze12" against normal up to surface (4 mm away) contours L13 A8 L15 A7 | A7 L14 L13 | L28 L29 A7 | A7 L26 A8 L28 | A7 L15 L14 | L12 A8 | L29 L26 A7 | L21 A8 L19 A7 | A7 L22 L21 | L19 L22 A7
sketch "Skizze14" plane through (0, 0, 32) normal (0, 0, -1) x (-1, 0, 0)
  arc A0 (18.2326, -6.9154) -> (3.1274, 19.2476) centre (0, 0) ccw projected
  line L0 (18.2326, -6.9154) -> (10.6969, -2.5646) projected
  arc A1 (10.6969, -2.5646) -> (3.1274, 10.5461) centre (0, 0) ccw projected
  line L1 (3.1274, 10.5461) -> (3.1274, 19.2476) projected
  arc A2 (-15.1052, -12.3322) -> (15.1052, -12.3322) centre (0, 0) ccw projected
  line L2 (-15.1052, -12.3322) -> (-7.5694, -7.9814) projected
  arc A3 (-7.5694, -7.9814) -> (7.5694, -7.9814) centre (0, 0) ccw projected
  line L3 (7.5694, -7.9814) -> (15.1052, -12.3322) projected
  circle A4 centre (22.6274, 0) radius 1.25 projected
  circle A5 centre (-22.6274, 0) radius 1.25 projected
  circle A6 centre (0, 22.6274) radius 1.25 projected
  circle A7 centre (0, -22.6274) radius 1.25 projected
  line L4 (14.32, 34.6951) -> (14.32, 23.57) projected
  arc A8 (14.32, 34.6951) -> (-14.32, 34.6951) centre (0, 0) ccw projected
  line L5 (-14.32, 23.57) -> (-14.32, 34.6951) projected
  arc A9 (-23.57, 14.32) -> (-14.32, 23.57) centre (-23.57, 23.57) ccw projected
  line L6 (-34.6951, 14.32) -> (-23.57, 14.32) projected
  arc A10 (-34.6951, 14.32) -> (-34.6951, -14.32) centre (0, 0) ccw projected
  line L7 (-23.57, -14.32) -> (-34.6951, -14.32) projected
  arc A11 (-14.32, -23.57) -> (-23.57, -14.32) centre (-23.57, -23.57) ccw projected
  line L8 (-14.32, -34.6951) -> (-14.32, -23.57) projected
  arc A12 (-14.32, -34.6951) -> (14.32, -34.6951) centre (0, 0) ccw projected
  line L9 (14.32, -23.57) -> (14.32, -34.6951) projected
  arc A13 (23.57, -14.32) -> (14.32, -23.57) centre (23.57, -23.57) ccw projected
  line L10 (34.6951, -14.32) -> (23.57, -14.32) projected
  arc A14 (34.6951, -14.32) -> (34.6951, 14.32) centre (0, 0) ccw projected
  line L11 (23.57, 14.32) -> (34.6951, 14.32) projected
  arc A15 (14.32, 23.57) -> (23.57, 14.32) centre (23.57, 23.57) ccw projected
  line L12 (-3.1274, 19.2476) -> (-3.1274, 10.5461) projected
  arc A16 (-3.1274, 10.5461) -> (-10.6969, -2.5646) centre (0, 0) ccw projected
  line L13 (-10.6969, -2.5646) -> (-18.2326, -6.9154) projected
  arc A17 (-3.1274, 19.2476) -> (-18.2326, -6.9154) centre (0, 0) ccw projected
  circle A18 centre (0, 0) radius 19.5
  point P0 (0, 0)
extrude "Extrusion9" cut sketch "Skizze14" against normal blind 2 contours A18 L3 A3 L2 L13 A16 L12 L1 A1 L0
chamfer "Fase1" distance 2 angle 45 3 edges at (0, 19.5, 34) (-16.8875, -9.75, 34) (16.8875, -9.75, 34)
equation "\"d58\" = d57"
properties part number "MotorCoverN24_3" material "ABS-Kunststoff"
